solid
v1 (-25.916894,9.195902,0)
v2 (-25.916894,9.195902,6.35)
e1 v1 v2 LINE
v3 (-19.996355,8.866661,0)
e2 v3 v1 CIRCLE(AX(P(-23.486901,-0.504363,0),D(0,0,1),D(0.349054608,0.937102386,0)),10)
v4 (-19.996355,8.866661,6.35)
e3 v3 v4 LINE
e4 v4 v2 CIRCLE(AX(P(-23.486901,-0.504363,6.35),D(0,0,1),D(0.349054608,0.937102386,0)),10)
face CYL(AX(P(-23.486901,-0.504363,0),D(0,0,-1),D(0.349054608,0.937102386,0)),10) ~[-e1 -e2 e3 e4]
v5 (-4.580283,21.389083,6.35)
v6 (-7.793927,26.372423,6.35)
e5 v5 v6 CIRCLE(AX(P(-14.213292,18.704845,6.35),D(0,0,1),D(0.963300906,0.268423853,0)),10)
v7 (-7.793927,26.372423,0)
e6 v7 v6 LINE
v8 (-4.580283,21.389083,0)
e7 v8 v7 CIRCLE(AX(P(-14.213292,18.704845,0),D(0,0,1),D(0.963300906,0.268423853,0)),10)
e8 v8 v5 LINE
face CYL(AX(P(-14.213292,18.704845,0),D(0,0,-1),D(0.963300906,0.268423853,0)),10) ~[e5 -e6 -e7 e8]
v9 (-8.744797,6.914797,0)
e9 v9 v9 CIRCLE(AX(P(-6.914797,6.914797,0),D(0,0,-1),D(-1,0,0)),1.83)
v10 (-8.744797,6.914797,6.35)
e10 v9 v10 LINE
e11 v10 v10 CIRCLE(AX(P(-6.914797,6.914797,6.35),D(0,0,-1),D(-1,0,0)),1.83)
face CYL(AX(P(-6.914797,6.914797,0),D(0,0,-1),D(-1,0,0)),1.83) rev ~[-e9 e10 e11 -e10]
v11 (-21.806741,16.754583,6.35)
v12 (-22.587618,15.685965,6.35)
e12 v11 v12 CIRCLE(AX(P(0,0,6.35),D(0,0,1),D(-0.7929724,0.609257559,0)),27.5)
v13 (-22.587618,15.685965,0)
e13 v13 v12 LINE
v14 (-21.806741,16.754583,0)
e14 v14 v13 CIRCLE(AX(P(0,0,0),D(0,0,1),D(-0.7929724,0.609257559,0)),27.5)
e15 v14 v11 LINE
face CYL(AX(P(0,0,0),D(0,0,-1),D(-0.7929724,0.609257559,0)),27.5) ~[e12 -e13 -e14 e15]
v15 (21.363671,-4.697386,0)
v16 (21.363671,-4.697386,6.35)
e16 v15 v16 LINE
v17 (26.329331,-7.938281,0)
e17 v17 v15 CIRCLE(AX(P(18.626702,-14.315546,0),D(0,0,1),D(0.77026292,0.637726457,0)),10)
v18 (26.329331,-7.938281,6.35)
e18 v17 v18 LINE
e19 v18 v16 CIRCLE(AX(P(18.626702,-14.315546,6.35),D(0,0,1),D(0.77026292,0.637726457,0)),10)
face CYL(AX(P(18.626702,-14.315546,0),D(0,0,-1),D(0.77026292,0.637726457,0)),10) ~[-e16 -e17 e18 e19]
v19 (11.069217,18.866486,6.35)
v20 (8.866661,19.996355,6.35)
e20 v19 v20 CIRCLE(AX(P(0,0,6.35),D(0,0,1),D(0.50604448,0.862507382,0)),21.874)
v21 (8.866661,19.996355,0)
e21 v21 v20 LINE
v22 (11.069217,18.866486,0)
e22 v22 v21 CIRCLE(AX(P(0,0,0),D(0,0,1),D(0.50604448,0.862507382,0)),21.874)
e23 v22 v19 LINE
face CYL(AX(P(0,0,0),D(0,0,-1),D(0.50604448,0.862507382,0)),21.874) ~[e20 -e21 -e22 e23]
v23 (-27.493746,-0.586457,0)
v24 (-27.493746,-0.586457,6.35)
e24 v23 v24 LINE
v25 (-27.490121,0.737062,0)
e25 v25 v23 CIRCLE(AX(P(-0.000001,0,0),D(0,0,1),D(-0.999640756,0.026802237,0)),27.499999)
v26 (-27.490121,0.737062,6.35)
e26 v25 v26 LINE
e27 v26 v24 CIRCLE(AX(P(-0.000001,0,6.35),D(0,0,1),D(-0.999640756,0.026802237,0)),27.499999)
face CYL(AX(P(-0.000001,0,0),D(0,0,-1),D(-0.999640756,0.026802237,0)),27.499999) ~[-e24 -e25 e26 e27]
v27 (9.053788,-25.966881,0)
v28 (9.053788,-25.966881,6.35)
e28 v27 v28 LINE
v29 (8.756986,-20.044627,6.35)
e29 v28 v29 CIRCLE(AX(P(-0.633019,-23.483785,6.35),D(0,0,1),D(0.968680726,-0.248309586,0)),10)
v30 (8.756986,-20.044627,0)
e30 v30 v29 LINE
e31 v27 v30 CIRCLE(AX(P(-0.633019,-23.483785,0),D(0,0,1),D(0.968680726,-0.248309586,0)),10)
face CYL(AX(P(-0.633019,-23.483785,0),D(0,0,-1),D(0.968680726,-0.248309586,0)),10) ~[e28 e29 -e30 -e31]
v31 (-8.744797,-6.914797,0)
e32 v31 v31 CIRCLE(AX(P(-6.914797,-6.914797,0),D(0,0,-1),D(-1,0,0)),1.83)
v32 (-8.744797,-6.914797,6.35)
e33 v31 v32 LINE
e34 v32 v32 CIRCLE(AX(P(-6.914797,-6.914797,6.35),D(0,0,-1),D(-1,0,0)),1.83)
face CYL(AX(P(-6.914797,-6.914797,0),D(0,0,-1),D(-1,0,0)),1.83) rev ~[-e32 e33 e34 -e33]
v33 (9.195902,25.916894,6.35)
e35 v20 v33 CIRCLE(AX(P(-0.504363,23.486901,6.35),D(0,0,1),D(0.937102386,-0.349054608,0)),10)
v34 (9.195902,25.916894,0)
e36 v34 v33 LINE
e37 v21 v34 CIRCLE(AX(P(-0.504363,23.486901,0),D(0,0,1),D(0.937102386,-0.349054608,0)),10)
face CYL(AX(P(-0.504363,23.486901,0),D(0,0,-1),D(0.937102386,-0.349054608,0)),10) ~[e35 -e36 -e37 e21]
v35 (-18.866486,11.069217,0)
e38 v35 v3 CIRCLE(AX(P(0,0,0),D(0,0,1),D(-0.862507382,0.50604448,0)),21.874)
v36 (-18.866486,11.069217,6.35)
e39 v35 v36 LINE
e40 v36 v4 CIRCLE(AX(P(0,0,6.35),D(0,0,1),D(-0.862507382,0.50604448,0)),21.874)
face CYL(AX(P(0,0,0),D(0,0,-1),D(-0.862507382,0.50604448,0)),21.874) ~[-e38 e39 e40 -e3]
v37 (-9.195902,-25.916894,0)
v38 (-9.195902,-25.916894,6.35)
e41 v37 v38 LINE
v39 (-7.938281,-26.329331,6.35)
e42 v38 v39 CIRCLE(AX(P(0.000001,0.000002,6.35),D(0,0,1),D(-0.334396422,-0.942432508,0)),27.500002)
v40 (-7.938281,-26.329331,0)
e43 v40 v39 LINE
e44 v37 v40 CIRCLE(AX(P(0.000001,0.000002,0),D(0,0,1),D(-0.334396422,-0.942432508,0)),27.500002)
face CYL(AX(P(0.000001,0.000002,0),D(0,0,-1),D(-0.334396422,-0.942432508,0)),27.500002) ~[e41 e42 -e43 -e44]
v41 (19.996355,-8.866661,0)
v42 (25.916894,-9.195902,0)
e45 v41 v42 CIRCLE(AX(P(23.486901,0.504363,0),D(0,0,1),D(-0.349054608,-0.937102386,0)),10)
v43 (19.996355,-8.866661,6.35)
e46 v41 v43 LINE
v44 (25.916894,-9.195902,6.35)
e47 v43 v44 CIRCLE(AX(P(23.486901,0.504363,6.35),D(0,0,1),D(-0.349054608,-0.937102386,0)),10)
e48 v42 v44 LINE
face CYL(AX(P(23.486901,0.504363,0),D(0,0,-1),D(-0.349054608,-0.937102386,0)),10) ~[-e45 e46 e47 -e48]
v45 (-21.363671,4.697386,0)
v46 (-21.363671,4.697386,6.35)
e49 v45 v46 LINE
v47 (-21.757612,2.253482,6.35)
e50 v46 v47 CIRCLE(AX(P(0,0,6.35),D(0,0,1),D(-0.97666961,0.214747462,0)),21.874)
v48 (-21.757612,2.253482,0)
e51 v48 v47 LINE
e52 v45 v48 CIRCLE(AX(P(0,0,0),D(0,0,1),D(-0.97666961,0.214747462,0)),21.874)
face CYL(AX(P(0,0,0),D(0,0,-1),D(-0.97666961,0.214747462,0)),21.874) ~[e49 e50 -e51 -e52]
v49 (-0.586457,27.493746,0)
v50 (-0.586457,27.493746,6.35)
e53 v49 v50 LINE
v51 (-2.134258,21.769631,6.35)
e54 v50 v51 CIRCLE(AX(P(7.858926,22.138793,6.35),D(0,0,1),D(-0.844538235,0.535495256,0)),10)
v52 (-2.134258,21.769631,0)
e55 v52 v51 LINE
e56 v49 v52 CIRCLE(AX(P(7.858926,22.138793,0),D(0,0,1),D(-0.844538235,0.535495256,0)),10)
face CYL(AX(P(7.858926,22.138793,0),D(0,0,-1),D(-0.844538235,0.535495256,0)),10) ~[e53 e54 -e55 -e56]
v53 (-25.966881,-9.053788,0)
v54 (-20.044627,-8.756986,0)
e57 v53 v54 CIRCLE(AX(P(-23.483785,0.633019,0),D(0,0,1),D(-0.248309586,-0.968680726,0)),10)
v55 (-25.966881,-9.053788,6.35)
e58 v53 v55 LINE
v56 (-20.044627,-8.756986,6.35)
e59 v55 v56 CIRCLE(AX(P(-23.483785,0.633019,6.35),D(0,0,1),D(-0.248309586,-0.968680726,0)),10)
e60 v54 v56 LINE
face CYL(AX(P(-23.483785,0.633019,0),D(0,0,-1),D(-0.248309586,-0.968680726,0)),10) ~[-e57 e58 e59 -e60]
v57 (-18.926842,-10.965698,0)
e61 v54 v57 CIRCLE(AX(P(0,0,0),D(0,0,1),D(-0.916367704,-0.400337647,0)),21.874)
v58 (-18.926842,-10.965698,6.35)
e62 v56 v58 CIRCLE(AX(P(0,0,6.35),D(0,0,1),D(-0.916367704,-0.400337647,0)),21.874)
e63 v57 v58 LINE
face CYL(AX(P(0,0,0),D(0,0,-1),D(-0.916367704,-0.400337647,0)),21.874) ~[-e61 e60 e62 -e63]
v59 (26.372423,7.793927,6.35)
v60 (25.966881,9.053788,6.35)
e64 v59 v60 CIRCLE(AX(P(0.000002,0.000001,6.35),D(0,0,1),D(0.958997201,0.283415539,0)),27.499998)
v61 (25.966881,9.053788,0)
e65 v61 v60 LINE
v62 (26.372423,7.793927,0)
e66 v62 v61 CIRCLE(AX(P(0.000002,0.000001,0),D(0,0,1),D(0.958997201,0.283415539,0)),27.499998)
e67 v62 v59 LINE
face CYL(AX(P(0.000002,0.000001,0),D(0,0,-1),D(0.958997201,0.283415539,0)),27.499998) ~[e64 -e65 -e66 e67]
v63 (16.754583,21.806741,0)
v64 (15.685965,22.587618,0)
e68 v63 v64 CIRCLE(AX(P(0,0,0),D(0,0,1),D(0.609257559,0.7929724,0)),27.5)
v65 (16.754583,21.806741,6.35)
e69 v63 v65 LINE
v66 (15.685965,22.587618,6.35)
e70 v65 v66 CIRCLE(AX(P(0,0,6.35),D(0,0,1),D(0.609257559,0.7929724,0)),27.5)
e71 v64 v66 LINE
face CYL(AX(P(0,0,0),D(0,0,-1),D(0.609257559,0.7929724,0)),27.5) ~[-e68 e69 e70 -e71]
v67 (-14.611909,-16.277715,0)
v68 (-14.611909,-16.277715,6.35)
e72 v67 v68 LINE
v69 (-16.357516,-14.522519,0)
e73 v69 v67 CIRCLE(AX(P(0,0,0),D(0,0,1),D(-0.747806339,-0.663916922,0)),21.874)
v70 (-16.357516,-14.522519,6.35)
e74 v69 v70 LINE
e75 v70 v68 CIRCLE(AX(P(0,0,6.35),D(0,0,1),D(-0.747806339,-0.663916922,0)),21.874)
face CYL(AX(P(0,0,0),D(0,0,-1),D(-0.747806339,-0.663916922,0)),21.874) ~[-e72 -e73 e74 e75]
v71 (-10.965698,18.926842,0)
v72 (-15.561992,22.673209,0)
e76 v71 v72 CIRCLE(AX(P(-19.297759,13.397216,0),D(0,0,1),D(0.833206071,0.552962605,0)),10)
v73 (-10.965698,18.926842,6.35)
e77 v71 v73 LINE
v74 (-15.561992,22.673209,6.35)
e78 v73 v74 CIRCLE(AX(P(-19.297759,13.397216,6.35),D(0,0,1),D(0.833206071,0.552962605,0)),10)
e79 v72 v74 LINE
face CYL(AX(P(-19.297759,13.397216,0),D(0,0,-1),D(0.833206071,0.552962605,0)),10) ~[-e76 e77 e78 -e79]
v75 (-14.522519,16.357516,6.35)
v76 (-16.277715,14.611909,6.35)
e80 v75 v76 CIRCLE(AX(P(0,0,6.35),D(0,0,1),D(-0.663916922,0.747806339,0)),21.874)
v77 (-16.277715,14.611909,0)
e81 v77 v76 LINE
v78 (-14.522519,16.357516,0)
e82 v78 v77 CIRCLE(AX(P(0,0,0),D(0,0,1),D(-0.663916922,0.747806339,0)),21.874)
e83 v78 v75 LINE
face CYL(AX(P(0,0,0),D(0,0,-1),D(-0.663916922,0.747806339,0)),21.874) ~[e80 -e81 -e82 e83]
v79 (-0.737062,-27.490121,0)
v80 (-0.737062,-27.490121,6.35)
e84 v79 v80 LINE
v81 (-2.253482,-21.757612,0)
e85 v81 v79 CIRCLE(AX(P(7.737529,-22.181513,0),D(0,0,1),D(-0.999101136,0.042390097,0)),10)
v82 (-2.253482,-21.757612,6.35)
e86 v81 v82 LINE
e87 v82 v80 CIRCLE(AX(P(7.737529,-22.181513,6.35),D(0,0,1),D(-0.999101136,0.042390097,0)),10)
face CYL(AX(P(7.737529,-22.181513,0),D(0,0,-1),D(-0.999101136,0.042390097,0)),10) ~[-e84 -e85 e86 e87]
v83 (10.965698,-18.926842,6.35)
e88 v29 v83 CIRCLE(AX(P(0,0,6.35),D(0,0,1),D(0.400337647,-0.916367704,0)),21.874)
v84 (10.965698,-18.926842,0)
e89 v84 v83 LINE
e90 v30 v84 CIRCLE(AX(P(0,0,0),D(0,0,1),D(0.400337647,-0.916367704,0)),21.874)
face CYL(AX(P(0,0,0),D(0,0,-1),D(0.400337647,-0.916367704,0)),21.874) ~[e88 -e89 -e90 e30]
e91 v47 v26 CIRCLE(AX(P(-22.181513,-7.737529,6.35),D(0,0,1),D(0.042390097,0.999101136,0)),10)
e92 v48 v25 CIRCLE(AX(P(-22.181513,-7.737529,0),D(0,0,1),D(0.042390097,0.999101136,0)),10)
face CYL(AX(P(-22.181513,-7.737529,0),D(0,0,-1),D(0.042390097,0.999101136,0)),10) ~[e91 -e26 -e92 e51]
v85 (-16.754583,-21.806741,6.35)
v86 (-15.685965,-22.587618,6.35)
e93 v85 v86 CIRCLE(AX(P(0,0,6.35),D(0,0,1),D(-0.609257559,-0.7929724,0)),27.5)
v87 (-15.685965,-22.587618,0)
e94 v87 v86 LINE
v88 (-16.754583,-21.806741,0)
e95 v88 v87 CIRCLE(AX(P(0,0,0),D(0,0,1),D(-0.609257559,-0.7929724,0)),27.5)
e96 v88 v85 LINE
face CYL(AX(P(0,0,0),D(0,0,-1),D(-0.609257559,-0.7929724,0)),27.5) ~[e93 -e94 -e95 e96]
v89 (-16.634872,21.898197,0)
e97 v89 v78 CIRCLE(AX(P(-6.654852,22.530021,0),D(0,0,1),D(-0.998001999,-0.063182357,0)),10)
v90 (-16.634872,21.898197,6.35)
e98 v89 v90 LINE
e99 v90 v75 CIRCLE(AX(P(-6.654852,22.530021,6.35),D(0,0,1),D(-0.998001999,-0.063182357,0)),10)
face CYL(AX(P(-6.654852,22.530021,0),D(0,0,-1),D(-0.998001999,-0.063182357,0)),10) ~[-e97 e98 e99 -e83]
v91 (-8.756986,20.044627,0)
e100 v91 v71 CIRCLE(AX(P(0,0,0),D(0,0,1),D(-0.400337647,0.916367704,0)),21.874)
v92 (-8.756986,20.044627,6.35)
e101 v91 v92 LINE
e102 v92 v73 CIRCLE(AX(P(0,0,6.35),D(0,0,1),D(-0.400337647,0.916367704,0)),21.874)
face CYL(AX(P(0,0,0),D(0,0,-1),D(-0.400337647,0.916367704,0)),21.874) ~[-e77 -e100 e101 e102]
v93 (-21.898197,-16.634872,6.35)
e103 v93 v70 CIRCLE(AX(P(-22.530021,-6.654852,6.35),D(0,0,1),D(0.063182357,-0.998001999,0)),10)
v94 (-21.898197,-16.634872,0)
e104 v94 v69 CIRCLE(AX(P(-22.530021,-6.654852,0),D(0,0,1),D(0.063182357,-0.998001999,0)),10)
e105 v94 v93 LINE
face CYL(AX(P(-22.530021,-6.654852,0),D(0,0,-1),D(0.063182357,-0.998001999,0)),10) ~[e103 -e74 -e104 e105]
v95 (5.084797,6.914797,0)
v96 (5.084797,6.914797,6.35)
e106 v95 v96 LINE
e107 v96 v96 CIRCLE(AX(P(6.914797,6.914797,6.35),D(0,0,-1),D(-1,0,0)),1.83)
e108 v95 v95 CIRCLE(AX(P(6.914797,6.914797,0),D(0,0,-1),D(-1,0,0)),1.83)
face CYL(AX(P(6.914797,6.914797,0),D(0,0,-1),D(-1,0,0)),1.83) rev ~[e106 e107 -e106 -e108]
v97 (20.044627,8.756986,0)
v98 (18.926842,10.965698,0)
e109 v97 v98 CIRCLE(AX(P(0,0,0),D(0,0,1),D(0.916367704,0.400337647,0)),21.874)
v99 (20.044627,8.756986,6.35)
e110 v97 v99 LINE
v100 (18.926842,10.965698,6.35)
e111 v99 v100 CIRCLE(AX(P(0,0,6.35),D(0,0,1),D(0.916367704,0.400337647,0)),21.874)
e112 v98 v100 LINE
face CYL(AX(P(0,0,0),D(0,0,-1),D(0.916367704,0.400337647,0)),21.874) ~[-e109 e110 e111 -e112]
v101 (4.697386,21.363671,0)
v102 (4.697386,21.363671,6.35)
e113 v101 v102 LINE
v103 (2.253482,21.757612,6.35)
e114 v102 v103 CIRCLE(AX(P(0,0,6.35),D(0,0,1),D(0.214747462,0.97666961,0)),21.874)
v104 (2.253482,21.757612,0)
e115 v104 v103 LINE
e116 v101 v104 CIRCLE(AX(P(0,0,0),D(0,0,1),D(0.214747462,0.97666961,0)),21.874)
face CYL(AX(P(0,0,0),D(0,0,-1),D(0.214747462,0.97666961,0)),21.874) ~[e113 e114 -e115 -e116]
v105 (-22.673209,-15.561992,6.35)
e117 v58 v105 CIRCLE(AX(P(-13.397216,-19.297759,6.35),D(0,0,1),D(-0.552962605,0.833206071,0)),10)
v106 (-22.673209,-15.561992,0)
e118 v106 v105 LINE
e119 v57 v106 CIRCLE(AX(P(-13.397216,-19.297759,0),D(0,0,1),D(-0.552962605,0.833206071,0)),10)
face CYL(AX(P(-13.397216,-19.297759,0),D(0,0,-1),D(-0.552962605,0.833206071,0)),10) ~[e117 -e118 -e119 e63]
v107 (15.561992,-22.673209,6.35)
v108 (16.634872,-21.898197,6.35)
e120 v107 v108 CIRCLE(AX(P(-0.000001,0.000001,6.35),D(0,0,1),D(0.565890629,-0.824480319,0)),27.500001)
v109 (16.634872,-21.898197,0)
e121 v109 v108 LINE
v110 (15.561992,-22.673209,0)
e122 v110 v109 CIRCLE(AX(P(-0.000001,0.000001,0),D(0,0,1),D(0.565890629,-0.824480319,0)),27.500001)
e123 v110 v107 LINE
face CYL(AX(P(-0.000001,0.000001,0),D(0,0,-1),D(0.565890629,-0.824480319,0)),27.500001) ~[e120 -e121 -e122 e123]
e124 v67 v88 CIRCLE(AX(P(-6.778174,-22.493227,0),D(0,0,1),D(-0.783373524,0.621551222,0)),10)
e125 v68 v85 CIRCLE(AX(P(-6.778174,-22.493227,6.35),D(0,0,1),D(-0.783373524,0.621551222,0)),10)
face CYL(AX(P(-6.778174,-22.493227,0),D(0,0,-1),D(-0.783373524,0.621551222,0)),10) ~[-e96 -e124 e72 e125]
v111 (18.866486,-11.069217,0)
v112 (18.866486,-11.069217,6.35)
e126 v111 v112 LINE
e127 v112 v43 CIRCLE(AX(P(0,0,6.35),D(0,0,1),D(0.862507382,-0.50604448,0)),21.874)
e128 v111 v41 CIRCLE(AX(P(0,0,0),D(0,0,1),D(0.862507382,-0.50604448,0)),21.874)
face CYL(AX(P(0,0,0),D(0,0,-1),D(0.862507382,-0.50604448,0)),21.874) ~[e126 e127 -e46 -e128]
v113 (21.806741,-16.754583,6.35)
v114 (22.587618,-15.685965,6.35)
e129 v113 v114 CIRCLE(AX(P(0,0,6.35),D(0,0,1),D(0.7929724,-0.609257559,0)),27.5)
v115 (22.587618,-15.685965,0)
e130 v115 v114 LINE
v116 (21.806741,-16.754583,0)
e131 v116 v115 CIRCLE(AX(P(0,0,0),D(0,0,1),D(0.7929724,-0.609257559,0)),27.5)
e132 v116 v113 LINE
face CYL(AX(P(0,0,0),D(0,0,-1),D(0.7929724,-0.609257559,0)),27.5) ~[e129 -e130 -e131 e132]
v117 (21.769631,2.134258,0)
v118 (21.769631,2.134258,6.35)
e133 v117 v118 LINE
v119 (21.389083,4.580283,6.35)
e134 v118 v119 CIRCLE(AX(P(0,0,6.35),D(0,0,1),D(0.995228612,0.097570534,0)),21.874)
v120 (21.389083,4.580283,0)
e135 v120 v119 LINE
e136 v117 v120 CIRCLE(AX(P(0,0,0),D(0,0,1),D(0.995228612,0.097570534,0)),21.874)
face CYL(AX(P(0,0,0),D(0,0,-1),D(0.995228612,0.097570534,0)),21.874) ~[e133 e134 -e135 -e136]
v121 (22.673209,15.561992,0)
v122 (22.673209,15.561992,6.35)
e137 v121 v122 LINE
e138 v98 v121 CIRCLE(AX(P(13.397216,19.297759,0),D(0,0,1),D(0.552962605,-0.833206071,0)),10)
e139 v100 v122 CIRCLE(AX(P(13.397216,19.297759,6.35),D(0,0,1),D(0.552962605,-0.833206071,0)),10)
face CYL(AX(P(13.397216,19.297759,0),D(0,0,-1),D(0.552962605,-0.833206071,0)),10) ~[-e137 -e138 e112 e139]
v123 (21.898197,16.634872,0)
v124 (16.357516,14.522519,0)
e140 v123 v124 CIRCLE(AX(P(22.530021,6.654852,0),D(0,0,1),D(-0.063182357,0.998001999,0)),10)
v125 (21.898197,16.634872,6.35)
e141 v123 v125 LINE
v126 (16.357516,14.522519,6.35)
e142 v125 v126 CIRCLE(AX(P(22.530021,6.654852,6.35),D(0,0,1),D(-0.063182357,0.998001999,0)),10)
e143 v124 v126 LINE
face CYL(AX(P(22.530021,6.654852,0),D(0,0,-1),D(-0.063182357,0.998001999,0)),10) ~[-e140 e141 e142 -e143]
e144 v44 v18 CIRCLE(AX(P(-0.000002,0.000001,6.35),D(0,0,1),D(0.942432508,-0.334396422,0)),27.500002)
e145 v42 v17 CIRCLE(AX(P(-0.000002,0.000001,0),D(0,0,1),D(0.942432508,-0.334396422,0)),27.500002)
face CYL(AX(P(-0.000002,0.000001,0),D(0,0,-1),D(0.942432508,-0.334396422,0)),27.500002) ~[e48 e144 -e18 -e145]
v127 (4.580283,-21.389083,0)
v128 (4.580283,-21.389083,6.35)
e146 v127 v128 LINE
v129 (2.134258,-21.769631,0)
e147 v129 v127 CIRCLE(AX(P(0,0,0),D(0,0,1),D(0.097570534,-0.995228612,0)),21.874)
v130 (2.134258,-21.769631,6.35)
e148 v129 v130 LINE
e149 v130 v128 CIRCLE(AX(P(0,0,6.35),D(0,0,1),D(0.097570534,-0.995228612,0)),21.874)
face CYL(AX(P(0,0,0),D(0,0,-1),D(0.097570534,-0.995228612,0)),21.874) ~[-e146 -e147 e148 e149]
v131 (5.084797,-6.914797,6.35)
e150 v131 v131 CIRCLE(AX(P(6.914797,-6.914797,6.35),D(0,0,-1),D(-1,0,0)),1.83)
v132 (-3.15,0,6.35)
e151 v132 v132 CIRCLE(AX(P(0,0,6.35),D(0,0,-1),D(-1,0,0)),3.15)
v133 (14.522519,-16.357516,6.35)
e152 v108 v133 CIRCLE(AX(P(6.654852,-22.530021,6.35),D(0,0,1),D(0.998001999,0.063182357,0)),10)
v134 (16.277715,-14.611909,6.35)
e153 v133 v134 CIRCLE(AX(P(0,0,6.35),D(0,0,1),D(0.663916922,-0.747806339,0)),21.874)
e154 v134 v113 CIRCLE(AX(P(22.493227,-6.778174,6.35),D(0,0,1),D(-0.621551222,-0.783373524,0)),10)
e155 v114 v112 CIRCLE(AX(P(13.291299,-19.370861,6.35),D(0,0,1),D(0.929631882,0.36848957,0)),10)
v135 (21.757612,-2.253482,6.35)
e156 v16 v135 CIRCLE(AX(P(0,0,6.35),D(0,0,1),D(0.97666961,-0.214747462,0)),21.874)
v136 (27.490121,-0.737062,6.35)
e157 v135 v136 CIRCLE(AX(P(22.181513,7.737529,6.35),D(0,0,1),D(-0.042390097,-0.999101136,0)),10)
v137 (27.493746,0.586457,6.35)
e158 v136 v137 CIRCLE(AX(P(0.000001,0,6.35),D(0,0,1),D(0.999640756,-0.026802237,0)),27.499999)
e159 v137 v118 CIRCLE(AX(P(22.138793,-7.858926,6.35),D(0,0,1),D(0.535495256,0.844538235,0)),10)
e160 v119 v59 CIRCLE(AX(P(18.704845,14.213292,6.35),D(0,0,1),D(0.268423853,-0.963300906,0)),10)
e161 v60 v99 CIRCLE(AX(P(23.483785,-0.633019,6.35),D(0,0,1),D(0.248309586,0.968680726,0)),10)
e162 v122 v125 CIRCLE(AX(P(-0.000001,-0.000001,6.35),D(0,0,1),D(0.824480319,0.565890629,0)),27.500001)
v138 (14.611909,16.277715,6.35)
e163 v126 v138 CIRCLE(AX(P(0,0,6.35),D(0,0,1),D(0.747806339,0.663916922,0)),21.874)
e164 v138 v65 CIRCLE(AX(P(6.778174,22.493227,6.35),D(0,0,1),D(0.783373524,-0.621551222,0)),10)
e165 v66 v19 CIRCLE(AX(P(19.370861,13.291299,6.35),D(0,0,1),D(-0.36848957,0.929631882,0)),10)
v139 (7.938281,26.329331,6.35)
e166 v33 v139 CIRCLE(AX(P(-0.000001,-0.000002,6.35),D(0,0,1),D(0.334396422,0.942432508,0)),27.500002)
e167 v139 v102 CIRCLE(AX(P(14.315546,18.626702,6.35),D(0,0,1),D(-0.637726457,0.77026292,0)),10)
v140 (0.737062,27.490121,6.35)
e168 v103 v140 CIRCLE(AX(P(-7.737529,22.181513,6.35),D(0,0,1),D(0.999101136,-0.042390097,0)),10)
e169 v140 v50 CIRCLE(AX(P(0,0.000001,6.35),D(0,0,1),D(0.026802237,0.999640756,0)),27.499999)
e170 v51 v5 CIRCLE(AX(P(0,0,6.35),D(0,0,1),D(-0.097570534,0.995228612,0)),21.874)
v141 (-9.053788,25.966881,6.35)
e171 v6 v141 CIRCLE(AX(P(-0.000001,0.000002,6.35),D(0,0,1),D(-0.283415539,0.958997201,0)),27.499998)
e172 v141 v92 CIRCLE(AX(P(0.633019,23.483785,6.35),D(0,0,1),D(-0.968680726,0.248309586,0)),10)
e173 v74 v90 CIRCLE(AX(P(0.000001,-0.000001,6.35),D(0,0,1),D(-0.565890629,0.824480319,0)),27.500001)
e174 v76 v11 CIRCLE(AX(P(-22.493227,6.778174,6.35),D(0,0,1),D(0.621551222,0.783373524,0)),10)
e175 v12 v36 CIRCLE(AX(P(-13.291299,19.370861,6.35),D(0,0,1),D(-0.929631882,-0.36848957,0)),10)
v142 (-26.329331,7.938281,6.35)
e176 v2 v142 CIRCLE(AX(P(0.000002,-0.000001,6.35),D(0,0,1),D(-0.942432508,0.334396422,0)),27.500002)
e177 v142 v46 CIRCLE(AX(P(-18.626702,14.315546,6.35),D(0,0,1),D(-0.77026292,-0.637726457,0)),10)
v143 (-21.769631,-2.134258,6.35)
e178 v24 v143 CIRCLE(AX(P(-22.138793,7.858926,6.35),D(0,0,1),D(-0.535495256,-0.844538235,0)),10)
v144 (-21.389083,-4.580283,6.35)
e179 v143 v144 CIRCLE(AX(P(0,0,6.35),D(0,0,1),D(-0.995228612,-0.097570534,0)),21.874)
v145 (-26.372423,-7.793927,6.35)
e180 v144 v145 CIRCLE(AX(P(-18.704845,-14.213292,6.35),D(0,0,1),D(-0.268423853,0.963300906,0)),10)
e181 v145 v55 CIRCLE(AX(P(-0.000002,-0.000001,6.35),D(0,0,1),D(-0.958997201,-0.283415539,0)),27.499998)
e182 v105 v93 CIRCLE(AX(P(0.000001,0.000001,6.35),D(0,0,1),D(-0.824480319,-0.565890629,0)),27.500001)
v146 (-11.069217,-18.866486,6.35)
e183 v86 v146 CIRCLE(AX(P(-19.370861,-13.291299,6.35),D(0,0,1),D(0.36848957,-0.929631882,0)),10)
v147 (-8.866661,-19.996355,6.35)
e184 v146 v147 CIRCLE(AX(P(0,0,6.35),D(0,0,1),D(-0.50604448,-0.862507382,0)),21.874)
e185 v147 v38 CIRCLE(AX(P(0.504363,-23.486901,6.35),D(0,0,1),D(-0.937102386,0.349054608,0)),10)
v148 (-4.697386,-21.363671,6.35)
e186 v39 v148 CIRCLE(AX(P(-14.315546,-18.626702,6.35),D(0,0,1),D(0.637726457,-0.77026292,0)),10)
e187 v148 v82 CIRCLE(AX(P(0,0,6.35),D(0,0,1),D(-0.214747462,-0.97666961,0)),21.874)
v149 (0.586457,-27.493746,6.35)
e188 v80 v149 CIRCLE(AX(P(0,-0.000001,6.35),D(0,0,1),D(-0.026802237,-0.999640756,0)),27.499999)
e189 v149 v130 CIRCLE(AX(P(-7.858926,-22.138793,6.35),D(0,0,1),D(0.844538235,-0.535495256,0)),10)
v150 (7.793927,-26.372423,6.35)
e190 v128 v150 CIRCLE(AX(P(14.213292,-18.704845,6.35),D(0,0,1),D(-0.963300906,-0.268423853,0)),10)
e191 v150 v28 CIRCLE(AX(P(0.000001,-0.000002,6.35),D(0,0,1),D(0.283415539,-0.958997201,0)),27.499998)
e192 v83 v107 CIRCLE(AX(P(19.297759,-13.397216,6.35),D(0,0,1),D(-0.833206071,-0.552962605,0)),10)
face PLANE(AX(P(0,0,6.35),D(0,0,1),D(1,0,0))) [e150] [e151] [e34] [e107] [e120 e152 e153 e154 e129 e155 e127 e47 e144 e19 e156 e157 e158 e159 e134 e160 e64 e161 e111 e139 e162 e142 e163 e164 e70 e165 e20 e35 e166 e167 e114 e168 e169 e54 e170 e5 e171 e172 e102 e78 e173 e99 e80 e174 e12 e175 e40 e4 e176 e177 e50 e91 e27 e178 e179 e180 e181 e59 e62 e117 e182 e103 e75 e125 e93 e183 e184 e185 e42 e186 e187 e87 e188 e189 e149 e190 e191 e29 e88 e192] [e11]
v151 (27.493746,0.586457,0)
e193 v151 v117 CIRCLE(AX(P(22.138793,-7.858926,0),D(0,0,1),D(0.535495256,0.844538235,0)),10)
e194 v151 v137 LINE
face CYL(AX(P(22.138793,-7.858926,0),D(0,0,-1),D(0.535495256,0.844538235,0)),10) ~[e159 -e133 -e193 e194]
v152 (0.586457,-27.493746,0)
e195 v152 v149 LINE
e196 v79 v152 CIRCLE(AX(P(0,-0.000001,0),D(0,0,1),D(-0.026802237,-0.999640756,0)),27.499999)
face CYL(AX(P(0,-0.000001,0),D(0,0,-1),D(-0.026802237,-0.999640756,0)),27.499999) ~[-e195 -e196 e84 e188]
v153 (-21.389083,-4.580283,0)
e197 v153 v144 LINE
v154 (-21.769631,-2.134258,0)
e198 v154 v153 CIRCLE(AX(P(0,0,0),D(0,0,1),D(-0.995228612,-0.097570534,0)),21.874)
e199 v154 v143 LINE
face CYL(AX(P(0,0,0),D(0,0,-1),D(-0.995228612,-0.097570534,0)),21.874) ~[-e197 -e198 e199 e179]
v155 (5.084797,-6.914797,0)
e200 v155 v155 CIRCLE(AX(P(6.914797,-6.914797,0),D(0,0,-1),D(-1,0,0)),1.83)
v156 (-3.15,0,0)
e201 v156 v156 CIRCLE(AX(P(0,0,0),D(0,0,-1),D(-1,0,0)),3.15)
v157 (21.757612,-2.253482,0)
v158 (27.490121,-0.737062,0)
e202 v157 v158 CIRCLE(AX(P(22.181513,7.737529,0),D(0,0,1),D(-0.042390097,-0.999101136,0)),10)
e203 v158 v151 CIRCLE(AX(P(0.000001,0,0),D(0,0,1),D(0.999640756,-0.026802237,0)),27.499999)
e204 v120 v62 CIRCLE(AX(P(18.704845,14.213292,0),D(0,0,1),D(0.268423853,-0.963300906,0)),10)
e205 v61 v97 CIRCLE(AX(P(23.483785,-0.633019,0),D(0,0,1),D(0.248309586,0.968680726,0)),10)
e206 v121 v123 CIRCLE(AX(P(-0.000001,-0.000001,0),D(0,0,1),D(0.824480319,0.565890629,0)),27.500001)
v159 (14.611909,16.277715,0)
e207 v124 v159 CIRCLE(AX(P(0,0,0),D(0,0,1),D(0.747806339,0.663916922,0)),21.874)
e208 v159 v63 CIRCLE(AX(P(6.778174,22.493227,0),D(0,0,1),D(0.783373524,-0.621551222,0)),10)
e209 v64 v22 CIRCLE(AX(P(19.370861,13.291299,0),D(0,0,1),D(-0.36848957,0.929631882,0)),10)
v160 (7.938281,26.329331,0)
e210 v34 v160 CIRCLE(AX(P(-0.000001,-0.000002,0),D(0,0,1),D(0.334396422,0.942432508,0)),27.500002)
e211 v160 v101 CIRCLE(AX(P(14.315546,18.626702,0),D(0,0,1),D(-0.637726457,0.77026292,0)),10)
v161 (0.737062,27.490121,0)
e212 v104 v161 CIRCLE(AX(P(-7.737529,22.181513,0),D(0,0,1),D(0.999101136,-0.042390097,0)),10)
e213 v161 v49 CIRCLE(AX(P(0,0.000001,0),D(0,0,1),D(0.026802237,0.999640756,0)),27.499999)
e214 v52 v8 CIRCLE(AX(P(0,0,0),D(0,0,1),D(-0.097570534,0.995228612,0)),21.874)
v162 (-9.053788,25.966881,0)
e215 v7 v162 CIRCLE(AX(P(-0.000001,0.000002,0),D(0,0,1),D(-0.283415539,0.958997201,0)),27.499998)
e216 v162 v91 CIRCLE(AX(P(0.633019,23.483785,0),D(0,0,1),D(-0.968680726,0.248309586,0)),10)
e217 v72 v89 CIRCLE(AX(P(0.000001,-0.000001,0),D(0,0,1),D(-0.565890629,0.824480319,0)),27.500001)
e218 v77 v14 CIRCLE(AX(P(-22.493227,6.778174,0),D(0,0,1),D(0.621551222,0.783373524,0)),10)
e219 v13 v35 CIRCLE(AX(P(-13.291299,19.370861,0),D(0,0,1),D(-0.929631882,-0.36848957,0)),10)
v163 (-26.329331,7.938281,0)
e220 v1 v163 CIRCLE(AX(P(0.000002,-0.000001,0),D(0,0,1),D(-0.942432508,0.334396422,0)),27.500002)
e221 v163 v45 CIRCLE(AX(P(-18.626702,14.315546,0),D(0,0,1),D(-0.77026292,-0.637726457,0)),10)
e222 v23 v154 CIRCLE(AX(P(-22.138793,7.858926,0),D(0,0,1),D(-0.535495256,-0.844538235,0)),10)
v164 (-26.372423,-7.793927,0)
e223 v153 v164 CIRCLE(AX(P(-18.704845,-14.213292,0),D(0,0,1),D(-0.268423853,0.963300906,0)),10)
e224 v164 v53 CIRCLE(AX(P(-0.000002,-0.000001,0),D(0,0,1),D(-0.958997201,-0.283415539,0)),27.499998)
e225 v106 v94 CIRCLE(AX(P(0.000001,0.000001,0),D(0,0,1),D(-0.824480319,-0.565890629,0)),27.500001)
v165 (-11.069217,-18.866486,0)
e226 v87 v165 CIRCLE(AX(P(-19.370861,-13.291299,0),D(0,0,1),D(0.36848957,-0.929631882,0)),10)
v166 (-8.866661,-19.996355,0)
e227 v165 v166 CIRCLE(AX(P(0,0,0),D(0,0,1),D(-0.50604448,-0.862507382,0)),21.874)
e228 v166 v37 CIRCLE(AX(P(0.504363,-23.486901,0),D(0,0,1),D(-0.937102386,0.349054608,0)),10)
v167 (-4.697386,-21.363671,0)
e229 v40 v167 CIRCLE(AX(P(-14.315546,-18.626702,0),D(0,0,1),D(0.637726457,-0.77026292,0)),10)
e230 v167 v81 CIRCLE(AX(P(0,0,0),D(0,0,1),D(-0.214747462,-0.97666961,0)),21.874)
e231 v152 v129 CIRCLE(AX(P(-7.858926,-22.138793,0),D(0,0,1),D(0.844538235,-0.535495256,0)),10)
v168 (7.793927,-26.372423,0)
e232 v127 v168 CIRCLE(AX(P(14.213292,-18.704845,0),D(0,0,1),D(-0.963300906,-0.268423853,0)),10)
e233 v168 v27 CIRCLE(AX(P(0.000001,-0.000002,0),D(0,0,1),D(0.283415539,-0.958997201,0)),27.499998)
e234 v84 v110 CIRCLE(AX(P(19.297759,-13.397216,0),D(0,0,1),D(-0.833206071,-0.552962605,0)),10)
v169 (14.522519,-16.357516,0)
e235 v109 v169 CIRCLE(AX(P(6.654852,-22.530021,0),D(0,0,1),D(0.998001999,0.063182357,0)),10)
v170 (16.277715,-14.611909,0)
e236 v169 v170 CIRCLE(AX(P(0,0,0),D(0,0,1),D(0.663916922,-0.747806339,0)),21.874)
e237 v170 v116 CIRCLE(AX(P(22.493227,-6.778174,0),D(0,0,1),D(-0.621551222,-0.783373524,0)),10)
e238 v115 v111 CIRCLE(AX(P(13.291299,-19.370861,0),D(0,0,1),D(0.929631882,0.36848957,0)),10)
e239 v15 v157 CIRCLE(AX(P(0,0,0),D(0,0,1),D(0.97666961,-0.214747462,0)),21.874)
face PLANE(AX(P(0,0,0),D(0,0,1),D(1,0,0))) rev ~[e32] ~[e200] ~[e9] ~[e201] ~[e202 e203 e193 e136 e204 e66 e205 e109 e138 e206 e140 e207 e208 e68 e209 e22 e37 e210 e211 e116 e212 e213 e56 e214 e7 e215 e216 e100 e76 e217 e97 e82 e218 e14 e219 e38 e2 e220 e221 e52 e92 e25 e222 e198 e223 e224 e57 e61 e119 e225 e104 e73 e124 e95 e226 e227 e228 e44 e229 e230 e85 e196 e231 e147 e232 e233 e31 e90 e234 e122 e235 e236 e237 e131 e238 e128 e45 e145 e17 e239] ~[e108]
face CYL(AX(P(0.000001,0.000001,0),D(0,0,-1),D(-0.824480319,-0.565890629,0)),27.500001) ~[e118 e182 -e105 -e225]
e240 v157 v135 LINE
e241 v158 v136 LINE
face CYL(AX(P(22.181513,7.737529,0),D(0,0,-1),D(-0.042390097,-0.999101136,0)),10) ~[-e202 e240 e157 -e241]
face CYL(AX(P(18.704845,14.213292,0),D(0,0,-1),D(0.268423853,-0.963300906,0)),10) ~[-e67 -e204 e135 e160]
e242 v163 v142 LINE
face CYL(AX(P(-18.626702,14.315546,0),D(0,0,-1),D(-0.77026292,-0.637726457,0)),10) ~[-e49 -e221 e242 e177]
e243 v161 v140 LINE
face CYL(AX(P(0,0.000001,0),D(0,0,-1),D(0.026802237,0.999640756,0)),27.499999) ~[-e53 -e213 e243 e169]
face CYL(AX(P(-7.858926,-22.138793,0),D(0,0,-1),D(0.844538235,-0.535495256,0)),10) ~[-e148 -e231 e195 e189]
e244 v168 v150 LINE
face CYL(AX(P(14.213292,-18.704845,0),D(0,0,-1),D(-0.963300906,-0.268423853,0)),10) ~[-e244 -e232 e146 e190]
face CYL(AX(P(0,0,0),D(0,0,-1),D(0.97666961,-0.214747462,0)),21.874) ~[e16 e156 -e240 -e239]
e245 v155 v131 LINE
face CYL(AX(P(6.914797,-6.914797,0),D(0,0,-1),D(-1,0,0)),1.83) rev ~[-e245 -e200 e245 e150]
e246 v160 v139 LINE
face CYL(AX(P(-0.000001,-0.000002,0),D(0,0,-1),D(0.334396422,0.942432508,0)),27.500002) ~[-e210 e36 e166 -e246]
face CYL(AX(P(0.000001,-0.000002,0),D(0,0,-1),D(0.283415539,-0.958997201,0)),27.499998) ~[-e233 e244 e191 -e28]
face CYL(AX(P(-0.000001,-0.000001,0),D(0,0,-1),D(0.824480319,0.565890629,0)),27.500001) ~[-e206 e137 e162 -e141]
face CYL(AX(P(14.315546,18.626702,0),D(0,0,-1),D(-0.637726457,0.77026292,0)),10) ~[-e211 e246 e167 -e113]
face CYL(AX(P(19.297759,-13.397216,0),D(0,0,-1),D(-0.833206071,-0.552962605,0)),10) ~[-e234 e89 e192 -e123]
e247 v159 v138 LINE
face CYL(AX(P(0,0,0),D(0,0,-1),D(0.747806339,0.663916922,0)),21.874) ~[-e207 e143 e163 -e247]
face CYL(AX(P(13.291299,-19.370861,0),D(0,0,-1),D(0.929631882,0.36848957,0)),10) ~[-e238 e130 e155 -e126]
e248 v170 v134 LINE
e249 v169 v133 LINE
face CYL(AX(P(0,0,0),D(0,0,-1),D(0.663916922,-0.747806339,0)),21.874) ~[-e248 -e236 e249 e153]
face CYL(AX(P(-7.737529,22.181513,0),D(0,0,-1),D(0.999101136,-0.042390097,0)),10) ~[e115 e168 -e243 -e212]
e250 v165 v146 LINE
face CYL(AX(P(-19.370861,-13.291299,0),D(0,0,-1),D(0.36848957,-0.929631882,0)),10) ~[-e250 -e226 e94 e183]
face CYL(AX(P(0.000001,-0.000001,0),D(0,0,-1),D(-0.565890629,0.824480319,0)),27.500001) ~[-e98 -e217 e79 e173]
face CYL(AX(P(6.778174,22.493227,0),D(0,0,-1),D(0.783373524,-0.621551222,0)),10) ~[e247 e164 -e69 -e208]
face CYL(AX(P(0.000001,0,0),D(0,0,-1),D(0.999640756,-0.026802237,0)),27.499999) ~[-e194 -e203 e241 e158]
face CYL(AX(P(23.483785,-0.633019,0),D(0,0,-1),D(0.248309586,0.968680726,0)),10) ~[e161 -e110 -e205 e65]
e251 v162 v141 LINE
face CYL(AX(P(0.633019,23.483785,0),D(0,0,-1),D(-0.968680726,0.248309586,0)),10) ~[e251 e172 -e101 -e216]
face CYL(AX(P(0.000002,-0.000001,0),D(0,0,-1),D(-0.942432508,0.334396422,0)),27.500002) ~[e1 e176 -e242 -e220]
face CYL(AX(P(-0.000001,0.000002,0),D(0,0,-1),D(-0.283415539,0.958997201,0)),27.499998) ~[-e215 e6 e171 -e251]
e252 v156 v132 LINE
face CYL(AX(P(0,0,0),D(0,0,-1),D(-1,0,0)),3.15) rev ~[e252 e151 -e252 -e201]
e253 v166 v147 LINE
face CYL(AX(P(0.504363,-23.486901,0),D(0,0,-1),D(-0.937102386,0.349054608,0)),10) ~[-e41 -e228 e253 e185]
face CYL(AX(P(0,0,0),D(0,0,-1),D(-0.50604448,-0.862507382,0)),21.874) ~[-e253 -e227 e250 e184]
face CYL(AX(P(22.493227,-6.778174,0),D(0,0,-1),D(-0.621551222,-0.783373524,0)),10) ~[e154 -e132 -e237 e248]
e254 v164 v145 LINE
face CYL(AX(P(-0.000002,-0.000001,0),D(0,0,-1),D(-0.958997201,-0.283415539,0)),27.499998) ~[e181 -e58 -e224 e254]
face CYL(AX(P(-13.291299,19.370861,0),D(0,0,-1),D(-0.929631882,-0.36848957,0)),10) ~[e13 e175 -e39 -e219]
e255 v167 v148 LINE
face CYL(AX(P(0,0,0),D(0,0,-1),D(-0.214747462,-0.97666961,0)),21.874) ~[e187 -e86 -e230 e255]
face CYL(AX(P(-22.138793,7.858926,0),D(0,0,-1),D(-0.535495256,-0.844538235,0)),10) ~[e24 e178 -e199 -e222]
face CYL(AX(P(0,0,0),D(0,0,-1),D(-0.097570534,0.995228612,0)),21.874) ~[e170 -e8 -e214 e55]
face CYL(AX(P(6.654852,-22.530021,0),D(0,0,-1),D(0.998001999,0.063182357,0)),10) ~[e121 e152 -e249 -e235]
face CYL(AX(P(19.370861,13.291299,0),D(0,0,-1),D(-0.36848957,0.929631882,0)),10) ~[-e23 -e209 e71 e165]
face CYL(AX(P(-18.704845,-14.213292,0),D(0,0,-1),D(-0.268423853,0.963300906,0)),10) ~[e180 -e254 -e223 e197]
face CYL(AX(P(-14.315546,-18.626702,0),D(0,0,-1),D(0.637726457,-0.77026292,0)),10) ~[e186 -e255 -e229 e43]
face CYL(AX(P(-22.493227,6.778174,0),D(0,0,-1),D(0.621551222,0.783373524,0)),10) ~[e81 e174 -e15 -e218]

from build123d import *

# Parameters (mm, degrees)
BOSS_EXTRU_1_DEPTH      = 6.35
ENL_V_MAT_EXTRU_1_REACH = 41.406
ESQUISSE2_R             = 3.15
ESQUISSE2_R_2           = 1.83


with BuildPart() as part:
    # Esquisse1 → Boss.-Extru.1 (new body)
    with BuildSketch(Plane.XY):
        with BuildLine():
            ThreePointArc((4.580283008, -21.38908328), (5.809239787, -24.124430095), (7.79392735, -26.37242303))
            ThreePointArc((7.79392735, -26.37242303), (8.426297829, -26.177232568), (9.053788111, -25.96688123))
            ThreePointArc((9.053788111, -25.96688123), (9.354446156, -22.983248931), (8.756985681, -20.044627155))
            ThreePointArc((8.756985681, -20.044627155), (9.877166912, -19.517004119), (10.965698229, -18.926841743))
            ThreePointArc((10.965698229, -18.926841743), (12.979774233, -21.148542625), (15.561992292, -22.673208769))
            ThreePointArc((15.561992292, -22.673208769), (16.103095187, -22.292158383), (16.634871772, -21.898197212))
            ThreePointArc((16.634871772, -21.898197212), (15.998821478, -18.967685826), (14.522518732, -16.357515878))
            ThreePointArc((14.522518732, -16.357515878), (15.424829906, -15.509561514), (16.277714505, -14.611909064))
            ThreePointArc((16.277714505, -14.611909064), (18.879757941, -16.102488453), (21.806741003, -16.75458286))
            ThreePointArc((21.806741003, -16.75458286), (22.203609392, -16.224972418), (22.587618281, -15.685965077))
            ThreePointArc((22.587618281, -15.685965077), (21.077120684, -13.095433477), (18.866486465, -11.069216977))
            ThreePointArc((18.866486465, -11.069216977), (19.462603078, -9.983934966), (19.996354671, -8.86666092))
            ThreePointArc((19.996354671, -8.86666092), (22.9316594, -9.480210518), (25.916893968, -9.195901645))
            ThreePointArc((25.916893968, -9.195901645), (26.130679608, -8.569573106), (26.329331336, -7.93828139))
            ThreePointArc((26.329331336, -7.93828139), (24.092244465, -5.941308858), (21.363671052, -4.697385994))
            ThreePointArc((21.363671052, -4.697385994), (21.595241057, -3.481011302), (21.75761232, -2.253482226))
            ThreePointArc((21.75761232, -2.253482226), (24.738850262, -1.929943525), (27.490120777, -0.737061506))
            ThreePointArc((27.490120777, -0.737061506), (27.499896841, -0.075324271), (27.493745992, 0.586456589))
            ThreePointArc((27.493745992, 0.586456589), (24.749051496, 1.794392467), (21.769630667, 2.134257858))
            ThreePointArc((21.769630667, 2.134257858), (21.613986378, 3.362658002), (21.38908328, 4.580283008))
            ThreePointArc((21.38908328, 4.580283008), (24.124430095, 5.809239787), (26.37242303, 7.79392735))
            ThreePointArc((26.37242303, 7.79392735), (26.177232568, 8.426297829), (25.96688123, 9.053788111))
            ThreePointArc((25.96688123, 9.053788111), (22.983248931, 9.354446156), (20.044627155, 8.756985681))
            ThreePointArc((20.044627155, 8.756985681), (19.517004119, 9.877166912), (18.926841743, 10.965698229))
            ThreePointArc((18.926841743, 10.965698229), (21.148542625, 12.979774233), (22.673208769, 15.561992292))
            ThreePointArc((22.673208769, 15.561992292), (22.292158383, 16.103095187), (21.898197212, 16.634871772))
            ThreePointArc((21.898197212, 16.634871772), (18.967685826, 15.998821478), (16.357515878, 14.522518732))
            ThreePointArc((16.357515878, 14.522518732), (15.509561514, 15.424829906), (14.611909064, 16.277714505))
            ThreePointArc((14.611909064, 16.277714505), (16.102488453, 18.879757941), (16.75458286, 21.806741003))
            ThreePointArc((16.75458286, 21.806741003), (16.224972418, 22.203609392), (15.685965077, 22.587618281))
            ThreePointArc((15.685965077, 22.587618281), (13.095433477, 21.077120684), (11.069216977, 18.866486465))
            ThreePointArc((11.069216977, 18.866486465), (9.983934966, 19.462603078), (8.86666092, 19.996354671))
            ThreePointArc((8.86666092, 19.996354671), (9.480210518, 22.9316594), (9.195901645, 25.916893968))
            ThreePointArc((9.195901645, 25.916893968), (8.569573106, 26.130679608), (7.93828139, 26.329331336))
            ThreePointArc((7.93828139, 26.329331336), (5.941308858, 24.092244465), (4.697385994, 21.363671052))
            ThreePointArc((4.697385994, 21.363671052), (3.481011302, 21.595241057), (2.253482226, 21.75761232))
            ThreePointArc((2.253482226, 21.75761232), (1.929943525, 24.738850262), (0.737061506, 27.490120777))
            ThreePointArc((0.737061506, 27.490120777), (0.075324271, 27.499896841), (-0.586456589, 27.493745992))
            ThreePointArc((-0.586456589, 27.493745992), (-1.794392467, 24.749051496), (-2.134257858, 21.769630667))
            ThreePointArc((-2.134257858, 21.769630667), (-3.362658002, 21.613986378), (-4.580283008, 21.38908328))
            ThreePointArc((-4.580283008, 21.38908328), (-5.809239787, 24.124430095), (-7.79392735, 26.37242303))
            ThreePointArc((-7.79392735, 26.37242303), (-8.426297829, 26.177232568), (-9.053788111, 25.96688123))
            ThreePointArc((-9.053788111, 25.96688123), (-9.354446156, 22.983248931), (-8.756985681, 20.044627155))
            ThreePointArc((-8.756985681, 20.044627155), (-9.877166912, 19.517004119), (-10.965698229, 18.926841743))
            ThreePointArc((-10.965698229, 18.926841743), (-12.979774233, 21.148542625), (-15.561992292, 22.673208769))
            ThreePointArc((-15.561992292, 22.673208769), (-16.103095187, 22.292158383), (-16.634871772, 21.898197212))
            ThreePointArc((-16.634871772, 21.898197212), (-15.998821478, 18.967685826), (-14.522518732, 16.357515878))
            ThreePointArc((-14.522518732, 16.357515878), (-15.424829906, 15.509561514), (-16.277714505, 14.611909064))
            ThreePointArc((-16.277714505, 14.611909064), (-18.879757941, 16.102488453), (-21.806741003, 16.75458286))
            ThreePointArc((-21.806741003, 16.75458286), (-22.203609392, 16.224972418), (-22.587618281, 15.685965077))
            ThreePointArc((-22.587618281, 15.685965077), (-21.077120684, 13.095433477), (-18.866486465, 11.069216977))
            ThreePointArc((-18.866486465, 11.069216977), (-19.462603078, 9.983934966), (-19.996354671, 8.86666092))
            ThreePointArc((-19.996354671, 8.86666092), (-22.9316594, 9.480210518), (-25.916893968, 9.195901645))
            ThreePointArc((-25.916893968, 9.195901645), (-26.130679608, 8.569573106), (-26.329331336, 7.93828139))
            ThreePointArc((-26.329331336, 7.93828139), (-24.092244465, 5.941308858), (-21.363671052, 4.697385994))
            ThreePointArc((-21.363671052, 4.697385994), (-21.595241057, 3.481011302), (-21.75761232, 2.253482226))
            ThreePointArc((-21.75761232, 2.253482226), (-24.738850262, 1.929943525), (-27.490120777, 0.737061506))
            ThreePointArc((-27.490120777, 0.737061506), (-27.499896841, 0.075324271), (-27.493745992, -0.586456589))
            ThreePointArc((-27.493745992, -0.586456589), (-24.749051496, -1.794392467), (-21.769630667, -2.134257858))
            ThreePointArc((-21.769630667, -2.134257858), (-21.613986378, -3.362658002), (-21.38908328, -4.580283008))
            ThreePointArc((-21.38908328, -4.580283008), (-24.124430095, -5.809239787), (-26.37242303, -7.79392735))
            ThreePointArc((-26.37242303, -7.79392735), (-26.177232568, -8.426297829), (-25.96688123, -9.053788111))
            ThreePointArc((-25.96688123, -9.053788111), (-22.983248931, -9.354446156), (-20.044627155, -8.756985681))
            ThreePointArc((-20.044627155, -8.756985681), (-19.517004119, -9.877166912), (-18.926841743, -10.965698229))
            ThreePointArc((-18.926841743, -10.965698229), (-21.148542625, -12.979774233), (-22.673208769, -15.561992292))
            ThreePointArc((-22.673208769, -15.561992292), (-22.292158383, -16.103095187), (-21.898197212, -16.634871772))
            ThreePointArc((-21.898197212, -16.634871772), (-18.967685826, -15.998821478), (-16.357515878, -14.522518732))
            ThreePointArc((-16.357515878, -14.522518732), (-15.509561514, -15.424829906), (-14.611909064, -16.277714505))
            ThreePointArc((-14.611909064, -16.277714505), (-16.102488453, -18.879757941), (-16.75458286, -21.806741003))
            ThreePointArc((-16.75458286, -21.806741003), (-16.224972418, -22.203609392), (-15.685965077, -22.587618281))
            ThreePointArc((-15.685965077, -22.587618281), (-13.095433477, -21.077120684), (-11.069216977, -18.866486465))
            ThreePointArc((-11.069216977, -18.866486465), (-9.983934966, -19.462603078), (-8.86666092, -19.996354671))
            ThreePointArc((-8.86666092, -19.996354671), (-9.480210518, -22.9316594), (-9.195901645, -25.916893968))
            ThreePointArc((-9.195901645, -25.916893968), (-8.569573106, -26.130679608), (-7.93828139, -26.329331336))
            ThreePointArc((-7.93828139, -26.329331336), (-5.941308858, -24.092244465), (-4.697385994, -21.363671052))
            ThreePointArc((-4.697385994, -21.363671052), (-3.481011302, -21.595241057), (-2.253482226, -21.75761232))
            ThreePointArc((-2.253482226, -21.75761232), (-1.929943525, -24.738850262), (-0.737061506, -27.490120777))
            ThreePointArc((-0.737061506, -27.490120777), (-0.075324271, -27.499896841), (0.586456589, -27.493745992))
            ThreePointArc((0.586456589, -27.493745992), (1.794392467, -24.749051496), (2.134257858, -21.769630667))
            ThreePointArc((2.134257858, -21.769630667), (3.362658002, -21.613986378), (4.580283008, -21.38908328))
        make_face()
    extrude(amount=BOSS_EXTRU_1_DEPTH)

    # Esquisse2 → Enlèv. mat.-Extru.1 (cut, up to next)
    with BuildSketch(Plane(origin=(0, 0, 0), x_dir=(-1, 0, 0), z_dir=(0, 0, -1)), mode=Mode.PRIVATE) as enl_v_mat_extru_1_sk1:
        Circle(ESQUISSE2_R)
    enl_v_mat_extru_1_tool1 = extrude(enl_v_mat_extru_1_sk1.sketch, amount=-ENL_V_MAT_EXTRU_1_REACH, mode=Mode.PRIVATE) & part.part
    # Esquisse2 → Enlèv. mat.-Extru.1 (cut, up to next)
    with BuildSketch(Plane(origin=(0, 0, 0), x_dir=(-1, 0, 0), z_dir=(0, 0, -1)), mode=Mode.PRIVATE) as enl_v_mat_extru_1_sk2:
        with Locations((-6.914797213, -6.914797213)):
            Circle(ESQUISSE2_R_2)
    enl_v_mat_extru_1_tool2 = extrude(enl_v_mat_extru_1_sk2.sketch, amount=-ENL_V_MAT_EXTRU_1_REACH, mode=Mode.PRIVATE) & part.part
    # Esquisse2 → Enlèv. mat.-Extru.1 (cut, up to next)
    with BuildSketch(Plane(origin=(0, 0, 0), x_dir=(-1, 0, 0), z_dir=(0, 0, -1)), mode=Mode.PRIVATE) as enl_v_mat_extru_1_sk3:
        with Locations((-6.914797213, 6.914797213)):
            Circle(ESQUISSE2_R_2)
    enl_v_mat_extru_1_tool3 = extrude(enl_v_mat_extru_1_sk3.sketch, amount=-ENL_V_MAT_EXTRU_1_REACH, mode=Mode.PRIVATE) & part.part
    # Esquisse2 → Enlèv. mat.-Extru.1 (cut, up to next)
    with BuildSketch(Plane(origin=(0, 0, 0), x_dir=(-1, 0, 0), z_dir=(0, 0, -1)), mode=Mode.PRIVATE) as enl_v_mat_extru_1_sk4:
        with Locations((6.914797213, 6.914797213)):
            Circle(ESQUISSE2_R_2)
    enl_v_mat_extru_1_tool4 = extrude(enl_v_mat_extru_1_sk4.sketch, amount=-ENL_V_MAT_EXTRU_1_REACH, mode=Mode.PRIVATE) & part.part
    # Esquisse2 → Enlèv. mat.-Extru.1 (cut, up to next)
    with BuildSketch(Plane(origin=(0, 0, 0), x_dir=(-1, 0, 0), z_dir=(0, 0, -1)), mode=Mode.PRIVATE) as enl_v_mat_extru_1_sk5:
        with Locations((6.914797213, -6.914797213)):
            Circle(ESQUISSE2_R_2)
    enl_v_mat_extru_1_tool5 = extrude(enl_v_mat_extru_1_sk5.sketch, amount=-ENL_V_MAT_EXTRU_1_REACH, mode=Mode.PRIVATE) & part.part
    add(enl_v_mat_extru_1_tool1.solids().sort_by_distance((0, 0, 0))[0], mode=Mode.SUBTRACT)
    add(enl_v_mat_extru_1_tool2.solids().sort_by_distance((6.914797, -6.914797, 0))[0], mode=Mode.SUBTRACT)
    add(enl_v_mat_extru_1_tool3.solids().sort_by_distance((6.914797, 6.914797, 0))[0], mode=Mode.SUBTRACT)
    add(enl_v_mat_extru_1_tool4.solids().sort_by_distance((-6.914797, 6.914797, 0))[0], mode=Mode.SUBTRACT)
    add(enl_v_mat_extru_1_tool5.solids().sort_by_distance((-6.914797, -6.914797, 0))[0], mode=Mode.SUBTRACT)


solid = part.part
